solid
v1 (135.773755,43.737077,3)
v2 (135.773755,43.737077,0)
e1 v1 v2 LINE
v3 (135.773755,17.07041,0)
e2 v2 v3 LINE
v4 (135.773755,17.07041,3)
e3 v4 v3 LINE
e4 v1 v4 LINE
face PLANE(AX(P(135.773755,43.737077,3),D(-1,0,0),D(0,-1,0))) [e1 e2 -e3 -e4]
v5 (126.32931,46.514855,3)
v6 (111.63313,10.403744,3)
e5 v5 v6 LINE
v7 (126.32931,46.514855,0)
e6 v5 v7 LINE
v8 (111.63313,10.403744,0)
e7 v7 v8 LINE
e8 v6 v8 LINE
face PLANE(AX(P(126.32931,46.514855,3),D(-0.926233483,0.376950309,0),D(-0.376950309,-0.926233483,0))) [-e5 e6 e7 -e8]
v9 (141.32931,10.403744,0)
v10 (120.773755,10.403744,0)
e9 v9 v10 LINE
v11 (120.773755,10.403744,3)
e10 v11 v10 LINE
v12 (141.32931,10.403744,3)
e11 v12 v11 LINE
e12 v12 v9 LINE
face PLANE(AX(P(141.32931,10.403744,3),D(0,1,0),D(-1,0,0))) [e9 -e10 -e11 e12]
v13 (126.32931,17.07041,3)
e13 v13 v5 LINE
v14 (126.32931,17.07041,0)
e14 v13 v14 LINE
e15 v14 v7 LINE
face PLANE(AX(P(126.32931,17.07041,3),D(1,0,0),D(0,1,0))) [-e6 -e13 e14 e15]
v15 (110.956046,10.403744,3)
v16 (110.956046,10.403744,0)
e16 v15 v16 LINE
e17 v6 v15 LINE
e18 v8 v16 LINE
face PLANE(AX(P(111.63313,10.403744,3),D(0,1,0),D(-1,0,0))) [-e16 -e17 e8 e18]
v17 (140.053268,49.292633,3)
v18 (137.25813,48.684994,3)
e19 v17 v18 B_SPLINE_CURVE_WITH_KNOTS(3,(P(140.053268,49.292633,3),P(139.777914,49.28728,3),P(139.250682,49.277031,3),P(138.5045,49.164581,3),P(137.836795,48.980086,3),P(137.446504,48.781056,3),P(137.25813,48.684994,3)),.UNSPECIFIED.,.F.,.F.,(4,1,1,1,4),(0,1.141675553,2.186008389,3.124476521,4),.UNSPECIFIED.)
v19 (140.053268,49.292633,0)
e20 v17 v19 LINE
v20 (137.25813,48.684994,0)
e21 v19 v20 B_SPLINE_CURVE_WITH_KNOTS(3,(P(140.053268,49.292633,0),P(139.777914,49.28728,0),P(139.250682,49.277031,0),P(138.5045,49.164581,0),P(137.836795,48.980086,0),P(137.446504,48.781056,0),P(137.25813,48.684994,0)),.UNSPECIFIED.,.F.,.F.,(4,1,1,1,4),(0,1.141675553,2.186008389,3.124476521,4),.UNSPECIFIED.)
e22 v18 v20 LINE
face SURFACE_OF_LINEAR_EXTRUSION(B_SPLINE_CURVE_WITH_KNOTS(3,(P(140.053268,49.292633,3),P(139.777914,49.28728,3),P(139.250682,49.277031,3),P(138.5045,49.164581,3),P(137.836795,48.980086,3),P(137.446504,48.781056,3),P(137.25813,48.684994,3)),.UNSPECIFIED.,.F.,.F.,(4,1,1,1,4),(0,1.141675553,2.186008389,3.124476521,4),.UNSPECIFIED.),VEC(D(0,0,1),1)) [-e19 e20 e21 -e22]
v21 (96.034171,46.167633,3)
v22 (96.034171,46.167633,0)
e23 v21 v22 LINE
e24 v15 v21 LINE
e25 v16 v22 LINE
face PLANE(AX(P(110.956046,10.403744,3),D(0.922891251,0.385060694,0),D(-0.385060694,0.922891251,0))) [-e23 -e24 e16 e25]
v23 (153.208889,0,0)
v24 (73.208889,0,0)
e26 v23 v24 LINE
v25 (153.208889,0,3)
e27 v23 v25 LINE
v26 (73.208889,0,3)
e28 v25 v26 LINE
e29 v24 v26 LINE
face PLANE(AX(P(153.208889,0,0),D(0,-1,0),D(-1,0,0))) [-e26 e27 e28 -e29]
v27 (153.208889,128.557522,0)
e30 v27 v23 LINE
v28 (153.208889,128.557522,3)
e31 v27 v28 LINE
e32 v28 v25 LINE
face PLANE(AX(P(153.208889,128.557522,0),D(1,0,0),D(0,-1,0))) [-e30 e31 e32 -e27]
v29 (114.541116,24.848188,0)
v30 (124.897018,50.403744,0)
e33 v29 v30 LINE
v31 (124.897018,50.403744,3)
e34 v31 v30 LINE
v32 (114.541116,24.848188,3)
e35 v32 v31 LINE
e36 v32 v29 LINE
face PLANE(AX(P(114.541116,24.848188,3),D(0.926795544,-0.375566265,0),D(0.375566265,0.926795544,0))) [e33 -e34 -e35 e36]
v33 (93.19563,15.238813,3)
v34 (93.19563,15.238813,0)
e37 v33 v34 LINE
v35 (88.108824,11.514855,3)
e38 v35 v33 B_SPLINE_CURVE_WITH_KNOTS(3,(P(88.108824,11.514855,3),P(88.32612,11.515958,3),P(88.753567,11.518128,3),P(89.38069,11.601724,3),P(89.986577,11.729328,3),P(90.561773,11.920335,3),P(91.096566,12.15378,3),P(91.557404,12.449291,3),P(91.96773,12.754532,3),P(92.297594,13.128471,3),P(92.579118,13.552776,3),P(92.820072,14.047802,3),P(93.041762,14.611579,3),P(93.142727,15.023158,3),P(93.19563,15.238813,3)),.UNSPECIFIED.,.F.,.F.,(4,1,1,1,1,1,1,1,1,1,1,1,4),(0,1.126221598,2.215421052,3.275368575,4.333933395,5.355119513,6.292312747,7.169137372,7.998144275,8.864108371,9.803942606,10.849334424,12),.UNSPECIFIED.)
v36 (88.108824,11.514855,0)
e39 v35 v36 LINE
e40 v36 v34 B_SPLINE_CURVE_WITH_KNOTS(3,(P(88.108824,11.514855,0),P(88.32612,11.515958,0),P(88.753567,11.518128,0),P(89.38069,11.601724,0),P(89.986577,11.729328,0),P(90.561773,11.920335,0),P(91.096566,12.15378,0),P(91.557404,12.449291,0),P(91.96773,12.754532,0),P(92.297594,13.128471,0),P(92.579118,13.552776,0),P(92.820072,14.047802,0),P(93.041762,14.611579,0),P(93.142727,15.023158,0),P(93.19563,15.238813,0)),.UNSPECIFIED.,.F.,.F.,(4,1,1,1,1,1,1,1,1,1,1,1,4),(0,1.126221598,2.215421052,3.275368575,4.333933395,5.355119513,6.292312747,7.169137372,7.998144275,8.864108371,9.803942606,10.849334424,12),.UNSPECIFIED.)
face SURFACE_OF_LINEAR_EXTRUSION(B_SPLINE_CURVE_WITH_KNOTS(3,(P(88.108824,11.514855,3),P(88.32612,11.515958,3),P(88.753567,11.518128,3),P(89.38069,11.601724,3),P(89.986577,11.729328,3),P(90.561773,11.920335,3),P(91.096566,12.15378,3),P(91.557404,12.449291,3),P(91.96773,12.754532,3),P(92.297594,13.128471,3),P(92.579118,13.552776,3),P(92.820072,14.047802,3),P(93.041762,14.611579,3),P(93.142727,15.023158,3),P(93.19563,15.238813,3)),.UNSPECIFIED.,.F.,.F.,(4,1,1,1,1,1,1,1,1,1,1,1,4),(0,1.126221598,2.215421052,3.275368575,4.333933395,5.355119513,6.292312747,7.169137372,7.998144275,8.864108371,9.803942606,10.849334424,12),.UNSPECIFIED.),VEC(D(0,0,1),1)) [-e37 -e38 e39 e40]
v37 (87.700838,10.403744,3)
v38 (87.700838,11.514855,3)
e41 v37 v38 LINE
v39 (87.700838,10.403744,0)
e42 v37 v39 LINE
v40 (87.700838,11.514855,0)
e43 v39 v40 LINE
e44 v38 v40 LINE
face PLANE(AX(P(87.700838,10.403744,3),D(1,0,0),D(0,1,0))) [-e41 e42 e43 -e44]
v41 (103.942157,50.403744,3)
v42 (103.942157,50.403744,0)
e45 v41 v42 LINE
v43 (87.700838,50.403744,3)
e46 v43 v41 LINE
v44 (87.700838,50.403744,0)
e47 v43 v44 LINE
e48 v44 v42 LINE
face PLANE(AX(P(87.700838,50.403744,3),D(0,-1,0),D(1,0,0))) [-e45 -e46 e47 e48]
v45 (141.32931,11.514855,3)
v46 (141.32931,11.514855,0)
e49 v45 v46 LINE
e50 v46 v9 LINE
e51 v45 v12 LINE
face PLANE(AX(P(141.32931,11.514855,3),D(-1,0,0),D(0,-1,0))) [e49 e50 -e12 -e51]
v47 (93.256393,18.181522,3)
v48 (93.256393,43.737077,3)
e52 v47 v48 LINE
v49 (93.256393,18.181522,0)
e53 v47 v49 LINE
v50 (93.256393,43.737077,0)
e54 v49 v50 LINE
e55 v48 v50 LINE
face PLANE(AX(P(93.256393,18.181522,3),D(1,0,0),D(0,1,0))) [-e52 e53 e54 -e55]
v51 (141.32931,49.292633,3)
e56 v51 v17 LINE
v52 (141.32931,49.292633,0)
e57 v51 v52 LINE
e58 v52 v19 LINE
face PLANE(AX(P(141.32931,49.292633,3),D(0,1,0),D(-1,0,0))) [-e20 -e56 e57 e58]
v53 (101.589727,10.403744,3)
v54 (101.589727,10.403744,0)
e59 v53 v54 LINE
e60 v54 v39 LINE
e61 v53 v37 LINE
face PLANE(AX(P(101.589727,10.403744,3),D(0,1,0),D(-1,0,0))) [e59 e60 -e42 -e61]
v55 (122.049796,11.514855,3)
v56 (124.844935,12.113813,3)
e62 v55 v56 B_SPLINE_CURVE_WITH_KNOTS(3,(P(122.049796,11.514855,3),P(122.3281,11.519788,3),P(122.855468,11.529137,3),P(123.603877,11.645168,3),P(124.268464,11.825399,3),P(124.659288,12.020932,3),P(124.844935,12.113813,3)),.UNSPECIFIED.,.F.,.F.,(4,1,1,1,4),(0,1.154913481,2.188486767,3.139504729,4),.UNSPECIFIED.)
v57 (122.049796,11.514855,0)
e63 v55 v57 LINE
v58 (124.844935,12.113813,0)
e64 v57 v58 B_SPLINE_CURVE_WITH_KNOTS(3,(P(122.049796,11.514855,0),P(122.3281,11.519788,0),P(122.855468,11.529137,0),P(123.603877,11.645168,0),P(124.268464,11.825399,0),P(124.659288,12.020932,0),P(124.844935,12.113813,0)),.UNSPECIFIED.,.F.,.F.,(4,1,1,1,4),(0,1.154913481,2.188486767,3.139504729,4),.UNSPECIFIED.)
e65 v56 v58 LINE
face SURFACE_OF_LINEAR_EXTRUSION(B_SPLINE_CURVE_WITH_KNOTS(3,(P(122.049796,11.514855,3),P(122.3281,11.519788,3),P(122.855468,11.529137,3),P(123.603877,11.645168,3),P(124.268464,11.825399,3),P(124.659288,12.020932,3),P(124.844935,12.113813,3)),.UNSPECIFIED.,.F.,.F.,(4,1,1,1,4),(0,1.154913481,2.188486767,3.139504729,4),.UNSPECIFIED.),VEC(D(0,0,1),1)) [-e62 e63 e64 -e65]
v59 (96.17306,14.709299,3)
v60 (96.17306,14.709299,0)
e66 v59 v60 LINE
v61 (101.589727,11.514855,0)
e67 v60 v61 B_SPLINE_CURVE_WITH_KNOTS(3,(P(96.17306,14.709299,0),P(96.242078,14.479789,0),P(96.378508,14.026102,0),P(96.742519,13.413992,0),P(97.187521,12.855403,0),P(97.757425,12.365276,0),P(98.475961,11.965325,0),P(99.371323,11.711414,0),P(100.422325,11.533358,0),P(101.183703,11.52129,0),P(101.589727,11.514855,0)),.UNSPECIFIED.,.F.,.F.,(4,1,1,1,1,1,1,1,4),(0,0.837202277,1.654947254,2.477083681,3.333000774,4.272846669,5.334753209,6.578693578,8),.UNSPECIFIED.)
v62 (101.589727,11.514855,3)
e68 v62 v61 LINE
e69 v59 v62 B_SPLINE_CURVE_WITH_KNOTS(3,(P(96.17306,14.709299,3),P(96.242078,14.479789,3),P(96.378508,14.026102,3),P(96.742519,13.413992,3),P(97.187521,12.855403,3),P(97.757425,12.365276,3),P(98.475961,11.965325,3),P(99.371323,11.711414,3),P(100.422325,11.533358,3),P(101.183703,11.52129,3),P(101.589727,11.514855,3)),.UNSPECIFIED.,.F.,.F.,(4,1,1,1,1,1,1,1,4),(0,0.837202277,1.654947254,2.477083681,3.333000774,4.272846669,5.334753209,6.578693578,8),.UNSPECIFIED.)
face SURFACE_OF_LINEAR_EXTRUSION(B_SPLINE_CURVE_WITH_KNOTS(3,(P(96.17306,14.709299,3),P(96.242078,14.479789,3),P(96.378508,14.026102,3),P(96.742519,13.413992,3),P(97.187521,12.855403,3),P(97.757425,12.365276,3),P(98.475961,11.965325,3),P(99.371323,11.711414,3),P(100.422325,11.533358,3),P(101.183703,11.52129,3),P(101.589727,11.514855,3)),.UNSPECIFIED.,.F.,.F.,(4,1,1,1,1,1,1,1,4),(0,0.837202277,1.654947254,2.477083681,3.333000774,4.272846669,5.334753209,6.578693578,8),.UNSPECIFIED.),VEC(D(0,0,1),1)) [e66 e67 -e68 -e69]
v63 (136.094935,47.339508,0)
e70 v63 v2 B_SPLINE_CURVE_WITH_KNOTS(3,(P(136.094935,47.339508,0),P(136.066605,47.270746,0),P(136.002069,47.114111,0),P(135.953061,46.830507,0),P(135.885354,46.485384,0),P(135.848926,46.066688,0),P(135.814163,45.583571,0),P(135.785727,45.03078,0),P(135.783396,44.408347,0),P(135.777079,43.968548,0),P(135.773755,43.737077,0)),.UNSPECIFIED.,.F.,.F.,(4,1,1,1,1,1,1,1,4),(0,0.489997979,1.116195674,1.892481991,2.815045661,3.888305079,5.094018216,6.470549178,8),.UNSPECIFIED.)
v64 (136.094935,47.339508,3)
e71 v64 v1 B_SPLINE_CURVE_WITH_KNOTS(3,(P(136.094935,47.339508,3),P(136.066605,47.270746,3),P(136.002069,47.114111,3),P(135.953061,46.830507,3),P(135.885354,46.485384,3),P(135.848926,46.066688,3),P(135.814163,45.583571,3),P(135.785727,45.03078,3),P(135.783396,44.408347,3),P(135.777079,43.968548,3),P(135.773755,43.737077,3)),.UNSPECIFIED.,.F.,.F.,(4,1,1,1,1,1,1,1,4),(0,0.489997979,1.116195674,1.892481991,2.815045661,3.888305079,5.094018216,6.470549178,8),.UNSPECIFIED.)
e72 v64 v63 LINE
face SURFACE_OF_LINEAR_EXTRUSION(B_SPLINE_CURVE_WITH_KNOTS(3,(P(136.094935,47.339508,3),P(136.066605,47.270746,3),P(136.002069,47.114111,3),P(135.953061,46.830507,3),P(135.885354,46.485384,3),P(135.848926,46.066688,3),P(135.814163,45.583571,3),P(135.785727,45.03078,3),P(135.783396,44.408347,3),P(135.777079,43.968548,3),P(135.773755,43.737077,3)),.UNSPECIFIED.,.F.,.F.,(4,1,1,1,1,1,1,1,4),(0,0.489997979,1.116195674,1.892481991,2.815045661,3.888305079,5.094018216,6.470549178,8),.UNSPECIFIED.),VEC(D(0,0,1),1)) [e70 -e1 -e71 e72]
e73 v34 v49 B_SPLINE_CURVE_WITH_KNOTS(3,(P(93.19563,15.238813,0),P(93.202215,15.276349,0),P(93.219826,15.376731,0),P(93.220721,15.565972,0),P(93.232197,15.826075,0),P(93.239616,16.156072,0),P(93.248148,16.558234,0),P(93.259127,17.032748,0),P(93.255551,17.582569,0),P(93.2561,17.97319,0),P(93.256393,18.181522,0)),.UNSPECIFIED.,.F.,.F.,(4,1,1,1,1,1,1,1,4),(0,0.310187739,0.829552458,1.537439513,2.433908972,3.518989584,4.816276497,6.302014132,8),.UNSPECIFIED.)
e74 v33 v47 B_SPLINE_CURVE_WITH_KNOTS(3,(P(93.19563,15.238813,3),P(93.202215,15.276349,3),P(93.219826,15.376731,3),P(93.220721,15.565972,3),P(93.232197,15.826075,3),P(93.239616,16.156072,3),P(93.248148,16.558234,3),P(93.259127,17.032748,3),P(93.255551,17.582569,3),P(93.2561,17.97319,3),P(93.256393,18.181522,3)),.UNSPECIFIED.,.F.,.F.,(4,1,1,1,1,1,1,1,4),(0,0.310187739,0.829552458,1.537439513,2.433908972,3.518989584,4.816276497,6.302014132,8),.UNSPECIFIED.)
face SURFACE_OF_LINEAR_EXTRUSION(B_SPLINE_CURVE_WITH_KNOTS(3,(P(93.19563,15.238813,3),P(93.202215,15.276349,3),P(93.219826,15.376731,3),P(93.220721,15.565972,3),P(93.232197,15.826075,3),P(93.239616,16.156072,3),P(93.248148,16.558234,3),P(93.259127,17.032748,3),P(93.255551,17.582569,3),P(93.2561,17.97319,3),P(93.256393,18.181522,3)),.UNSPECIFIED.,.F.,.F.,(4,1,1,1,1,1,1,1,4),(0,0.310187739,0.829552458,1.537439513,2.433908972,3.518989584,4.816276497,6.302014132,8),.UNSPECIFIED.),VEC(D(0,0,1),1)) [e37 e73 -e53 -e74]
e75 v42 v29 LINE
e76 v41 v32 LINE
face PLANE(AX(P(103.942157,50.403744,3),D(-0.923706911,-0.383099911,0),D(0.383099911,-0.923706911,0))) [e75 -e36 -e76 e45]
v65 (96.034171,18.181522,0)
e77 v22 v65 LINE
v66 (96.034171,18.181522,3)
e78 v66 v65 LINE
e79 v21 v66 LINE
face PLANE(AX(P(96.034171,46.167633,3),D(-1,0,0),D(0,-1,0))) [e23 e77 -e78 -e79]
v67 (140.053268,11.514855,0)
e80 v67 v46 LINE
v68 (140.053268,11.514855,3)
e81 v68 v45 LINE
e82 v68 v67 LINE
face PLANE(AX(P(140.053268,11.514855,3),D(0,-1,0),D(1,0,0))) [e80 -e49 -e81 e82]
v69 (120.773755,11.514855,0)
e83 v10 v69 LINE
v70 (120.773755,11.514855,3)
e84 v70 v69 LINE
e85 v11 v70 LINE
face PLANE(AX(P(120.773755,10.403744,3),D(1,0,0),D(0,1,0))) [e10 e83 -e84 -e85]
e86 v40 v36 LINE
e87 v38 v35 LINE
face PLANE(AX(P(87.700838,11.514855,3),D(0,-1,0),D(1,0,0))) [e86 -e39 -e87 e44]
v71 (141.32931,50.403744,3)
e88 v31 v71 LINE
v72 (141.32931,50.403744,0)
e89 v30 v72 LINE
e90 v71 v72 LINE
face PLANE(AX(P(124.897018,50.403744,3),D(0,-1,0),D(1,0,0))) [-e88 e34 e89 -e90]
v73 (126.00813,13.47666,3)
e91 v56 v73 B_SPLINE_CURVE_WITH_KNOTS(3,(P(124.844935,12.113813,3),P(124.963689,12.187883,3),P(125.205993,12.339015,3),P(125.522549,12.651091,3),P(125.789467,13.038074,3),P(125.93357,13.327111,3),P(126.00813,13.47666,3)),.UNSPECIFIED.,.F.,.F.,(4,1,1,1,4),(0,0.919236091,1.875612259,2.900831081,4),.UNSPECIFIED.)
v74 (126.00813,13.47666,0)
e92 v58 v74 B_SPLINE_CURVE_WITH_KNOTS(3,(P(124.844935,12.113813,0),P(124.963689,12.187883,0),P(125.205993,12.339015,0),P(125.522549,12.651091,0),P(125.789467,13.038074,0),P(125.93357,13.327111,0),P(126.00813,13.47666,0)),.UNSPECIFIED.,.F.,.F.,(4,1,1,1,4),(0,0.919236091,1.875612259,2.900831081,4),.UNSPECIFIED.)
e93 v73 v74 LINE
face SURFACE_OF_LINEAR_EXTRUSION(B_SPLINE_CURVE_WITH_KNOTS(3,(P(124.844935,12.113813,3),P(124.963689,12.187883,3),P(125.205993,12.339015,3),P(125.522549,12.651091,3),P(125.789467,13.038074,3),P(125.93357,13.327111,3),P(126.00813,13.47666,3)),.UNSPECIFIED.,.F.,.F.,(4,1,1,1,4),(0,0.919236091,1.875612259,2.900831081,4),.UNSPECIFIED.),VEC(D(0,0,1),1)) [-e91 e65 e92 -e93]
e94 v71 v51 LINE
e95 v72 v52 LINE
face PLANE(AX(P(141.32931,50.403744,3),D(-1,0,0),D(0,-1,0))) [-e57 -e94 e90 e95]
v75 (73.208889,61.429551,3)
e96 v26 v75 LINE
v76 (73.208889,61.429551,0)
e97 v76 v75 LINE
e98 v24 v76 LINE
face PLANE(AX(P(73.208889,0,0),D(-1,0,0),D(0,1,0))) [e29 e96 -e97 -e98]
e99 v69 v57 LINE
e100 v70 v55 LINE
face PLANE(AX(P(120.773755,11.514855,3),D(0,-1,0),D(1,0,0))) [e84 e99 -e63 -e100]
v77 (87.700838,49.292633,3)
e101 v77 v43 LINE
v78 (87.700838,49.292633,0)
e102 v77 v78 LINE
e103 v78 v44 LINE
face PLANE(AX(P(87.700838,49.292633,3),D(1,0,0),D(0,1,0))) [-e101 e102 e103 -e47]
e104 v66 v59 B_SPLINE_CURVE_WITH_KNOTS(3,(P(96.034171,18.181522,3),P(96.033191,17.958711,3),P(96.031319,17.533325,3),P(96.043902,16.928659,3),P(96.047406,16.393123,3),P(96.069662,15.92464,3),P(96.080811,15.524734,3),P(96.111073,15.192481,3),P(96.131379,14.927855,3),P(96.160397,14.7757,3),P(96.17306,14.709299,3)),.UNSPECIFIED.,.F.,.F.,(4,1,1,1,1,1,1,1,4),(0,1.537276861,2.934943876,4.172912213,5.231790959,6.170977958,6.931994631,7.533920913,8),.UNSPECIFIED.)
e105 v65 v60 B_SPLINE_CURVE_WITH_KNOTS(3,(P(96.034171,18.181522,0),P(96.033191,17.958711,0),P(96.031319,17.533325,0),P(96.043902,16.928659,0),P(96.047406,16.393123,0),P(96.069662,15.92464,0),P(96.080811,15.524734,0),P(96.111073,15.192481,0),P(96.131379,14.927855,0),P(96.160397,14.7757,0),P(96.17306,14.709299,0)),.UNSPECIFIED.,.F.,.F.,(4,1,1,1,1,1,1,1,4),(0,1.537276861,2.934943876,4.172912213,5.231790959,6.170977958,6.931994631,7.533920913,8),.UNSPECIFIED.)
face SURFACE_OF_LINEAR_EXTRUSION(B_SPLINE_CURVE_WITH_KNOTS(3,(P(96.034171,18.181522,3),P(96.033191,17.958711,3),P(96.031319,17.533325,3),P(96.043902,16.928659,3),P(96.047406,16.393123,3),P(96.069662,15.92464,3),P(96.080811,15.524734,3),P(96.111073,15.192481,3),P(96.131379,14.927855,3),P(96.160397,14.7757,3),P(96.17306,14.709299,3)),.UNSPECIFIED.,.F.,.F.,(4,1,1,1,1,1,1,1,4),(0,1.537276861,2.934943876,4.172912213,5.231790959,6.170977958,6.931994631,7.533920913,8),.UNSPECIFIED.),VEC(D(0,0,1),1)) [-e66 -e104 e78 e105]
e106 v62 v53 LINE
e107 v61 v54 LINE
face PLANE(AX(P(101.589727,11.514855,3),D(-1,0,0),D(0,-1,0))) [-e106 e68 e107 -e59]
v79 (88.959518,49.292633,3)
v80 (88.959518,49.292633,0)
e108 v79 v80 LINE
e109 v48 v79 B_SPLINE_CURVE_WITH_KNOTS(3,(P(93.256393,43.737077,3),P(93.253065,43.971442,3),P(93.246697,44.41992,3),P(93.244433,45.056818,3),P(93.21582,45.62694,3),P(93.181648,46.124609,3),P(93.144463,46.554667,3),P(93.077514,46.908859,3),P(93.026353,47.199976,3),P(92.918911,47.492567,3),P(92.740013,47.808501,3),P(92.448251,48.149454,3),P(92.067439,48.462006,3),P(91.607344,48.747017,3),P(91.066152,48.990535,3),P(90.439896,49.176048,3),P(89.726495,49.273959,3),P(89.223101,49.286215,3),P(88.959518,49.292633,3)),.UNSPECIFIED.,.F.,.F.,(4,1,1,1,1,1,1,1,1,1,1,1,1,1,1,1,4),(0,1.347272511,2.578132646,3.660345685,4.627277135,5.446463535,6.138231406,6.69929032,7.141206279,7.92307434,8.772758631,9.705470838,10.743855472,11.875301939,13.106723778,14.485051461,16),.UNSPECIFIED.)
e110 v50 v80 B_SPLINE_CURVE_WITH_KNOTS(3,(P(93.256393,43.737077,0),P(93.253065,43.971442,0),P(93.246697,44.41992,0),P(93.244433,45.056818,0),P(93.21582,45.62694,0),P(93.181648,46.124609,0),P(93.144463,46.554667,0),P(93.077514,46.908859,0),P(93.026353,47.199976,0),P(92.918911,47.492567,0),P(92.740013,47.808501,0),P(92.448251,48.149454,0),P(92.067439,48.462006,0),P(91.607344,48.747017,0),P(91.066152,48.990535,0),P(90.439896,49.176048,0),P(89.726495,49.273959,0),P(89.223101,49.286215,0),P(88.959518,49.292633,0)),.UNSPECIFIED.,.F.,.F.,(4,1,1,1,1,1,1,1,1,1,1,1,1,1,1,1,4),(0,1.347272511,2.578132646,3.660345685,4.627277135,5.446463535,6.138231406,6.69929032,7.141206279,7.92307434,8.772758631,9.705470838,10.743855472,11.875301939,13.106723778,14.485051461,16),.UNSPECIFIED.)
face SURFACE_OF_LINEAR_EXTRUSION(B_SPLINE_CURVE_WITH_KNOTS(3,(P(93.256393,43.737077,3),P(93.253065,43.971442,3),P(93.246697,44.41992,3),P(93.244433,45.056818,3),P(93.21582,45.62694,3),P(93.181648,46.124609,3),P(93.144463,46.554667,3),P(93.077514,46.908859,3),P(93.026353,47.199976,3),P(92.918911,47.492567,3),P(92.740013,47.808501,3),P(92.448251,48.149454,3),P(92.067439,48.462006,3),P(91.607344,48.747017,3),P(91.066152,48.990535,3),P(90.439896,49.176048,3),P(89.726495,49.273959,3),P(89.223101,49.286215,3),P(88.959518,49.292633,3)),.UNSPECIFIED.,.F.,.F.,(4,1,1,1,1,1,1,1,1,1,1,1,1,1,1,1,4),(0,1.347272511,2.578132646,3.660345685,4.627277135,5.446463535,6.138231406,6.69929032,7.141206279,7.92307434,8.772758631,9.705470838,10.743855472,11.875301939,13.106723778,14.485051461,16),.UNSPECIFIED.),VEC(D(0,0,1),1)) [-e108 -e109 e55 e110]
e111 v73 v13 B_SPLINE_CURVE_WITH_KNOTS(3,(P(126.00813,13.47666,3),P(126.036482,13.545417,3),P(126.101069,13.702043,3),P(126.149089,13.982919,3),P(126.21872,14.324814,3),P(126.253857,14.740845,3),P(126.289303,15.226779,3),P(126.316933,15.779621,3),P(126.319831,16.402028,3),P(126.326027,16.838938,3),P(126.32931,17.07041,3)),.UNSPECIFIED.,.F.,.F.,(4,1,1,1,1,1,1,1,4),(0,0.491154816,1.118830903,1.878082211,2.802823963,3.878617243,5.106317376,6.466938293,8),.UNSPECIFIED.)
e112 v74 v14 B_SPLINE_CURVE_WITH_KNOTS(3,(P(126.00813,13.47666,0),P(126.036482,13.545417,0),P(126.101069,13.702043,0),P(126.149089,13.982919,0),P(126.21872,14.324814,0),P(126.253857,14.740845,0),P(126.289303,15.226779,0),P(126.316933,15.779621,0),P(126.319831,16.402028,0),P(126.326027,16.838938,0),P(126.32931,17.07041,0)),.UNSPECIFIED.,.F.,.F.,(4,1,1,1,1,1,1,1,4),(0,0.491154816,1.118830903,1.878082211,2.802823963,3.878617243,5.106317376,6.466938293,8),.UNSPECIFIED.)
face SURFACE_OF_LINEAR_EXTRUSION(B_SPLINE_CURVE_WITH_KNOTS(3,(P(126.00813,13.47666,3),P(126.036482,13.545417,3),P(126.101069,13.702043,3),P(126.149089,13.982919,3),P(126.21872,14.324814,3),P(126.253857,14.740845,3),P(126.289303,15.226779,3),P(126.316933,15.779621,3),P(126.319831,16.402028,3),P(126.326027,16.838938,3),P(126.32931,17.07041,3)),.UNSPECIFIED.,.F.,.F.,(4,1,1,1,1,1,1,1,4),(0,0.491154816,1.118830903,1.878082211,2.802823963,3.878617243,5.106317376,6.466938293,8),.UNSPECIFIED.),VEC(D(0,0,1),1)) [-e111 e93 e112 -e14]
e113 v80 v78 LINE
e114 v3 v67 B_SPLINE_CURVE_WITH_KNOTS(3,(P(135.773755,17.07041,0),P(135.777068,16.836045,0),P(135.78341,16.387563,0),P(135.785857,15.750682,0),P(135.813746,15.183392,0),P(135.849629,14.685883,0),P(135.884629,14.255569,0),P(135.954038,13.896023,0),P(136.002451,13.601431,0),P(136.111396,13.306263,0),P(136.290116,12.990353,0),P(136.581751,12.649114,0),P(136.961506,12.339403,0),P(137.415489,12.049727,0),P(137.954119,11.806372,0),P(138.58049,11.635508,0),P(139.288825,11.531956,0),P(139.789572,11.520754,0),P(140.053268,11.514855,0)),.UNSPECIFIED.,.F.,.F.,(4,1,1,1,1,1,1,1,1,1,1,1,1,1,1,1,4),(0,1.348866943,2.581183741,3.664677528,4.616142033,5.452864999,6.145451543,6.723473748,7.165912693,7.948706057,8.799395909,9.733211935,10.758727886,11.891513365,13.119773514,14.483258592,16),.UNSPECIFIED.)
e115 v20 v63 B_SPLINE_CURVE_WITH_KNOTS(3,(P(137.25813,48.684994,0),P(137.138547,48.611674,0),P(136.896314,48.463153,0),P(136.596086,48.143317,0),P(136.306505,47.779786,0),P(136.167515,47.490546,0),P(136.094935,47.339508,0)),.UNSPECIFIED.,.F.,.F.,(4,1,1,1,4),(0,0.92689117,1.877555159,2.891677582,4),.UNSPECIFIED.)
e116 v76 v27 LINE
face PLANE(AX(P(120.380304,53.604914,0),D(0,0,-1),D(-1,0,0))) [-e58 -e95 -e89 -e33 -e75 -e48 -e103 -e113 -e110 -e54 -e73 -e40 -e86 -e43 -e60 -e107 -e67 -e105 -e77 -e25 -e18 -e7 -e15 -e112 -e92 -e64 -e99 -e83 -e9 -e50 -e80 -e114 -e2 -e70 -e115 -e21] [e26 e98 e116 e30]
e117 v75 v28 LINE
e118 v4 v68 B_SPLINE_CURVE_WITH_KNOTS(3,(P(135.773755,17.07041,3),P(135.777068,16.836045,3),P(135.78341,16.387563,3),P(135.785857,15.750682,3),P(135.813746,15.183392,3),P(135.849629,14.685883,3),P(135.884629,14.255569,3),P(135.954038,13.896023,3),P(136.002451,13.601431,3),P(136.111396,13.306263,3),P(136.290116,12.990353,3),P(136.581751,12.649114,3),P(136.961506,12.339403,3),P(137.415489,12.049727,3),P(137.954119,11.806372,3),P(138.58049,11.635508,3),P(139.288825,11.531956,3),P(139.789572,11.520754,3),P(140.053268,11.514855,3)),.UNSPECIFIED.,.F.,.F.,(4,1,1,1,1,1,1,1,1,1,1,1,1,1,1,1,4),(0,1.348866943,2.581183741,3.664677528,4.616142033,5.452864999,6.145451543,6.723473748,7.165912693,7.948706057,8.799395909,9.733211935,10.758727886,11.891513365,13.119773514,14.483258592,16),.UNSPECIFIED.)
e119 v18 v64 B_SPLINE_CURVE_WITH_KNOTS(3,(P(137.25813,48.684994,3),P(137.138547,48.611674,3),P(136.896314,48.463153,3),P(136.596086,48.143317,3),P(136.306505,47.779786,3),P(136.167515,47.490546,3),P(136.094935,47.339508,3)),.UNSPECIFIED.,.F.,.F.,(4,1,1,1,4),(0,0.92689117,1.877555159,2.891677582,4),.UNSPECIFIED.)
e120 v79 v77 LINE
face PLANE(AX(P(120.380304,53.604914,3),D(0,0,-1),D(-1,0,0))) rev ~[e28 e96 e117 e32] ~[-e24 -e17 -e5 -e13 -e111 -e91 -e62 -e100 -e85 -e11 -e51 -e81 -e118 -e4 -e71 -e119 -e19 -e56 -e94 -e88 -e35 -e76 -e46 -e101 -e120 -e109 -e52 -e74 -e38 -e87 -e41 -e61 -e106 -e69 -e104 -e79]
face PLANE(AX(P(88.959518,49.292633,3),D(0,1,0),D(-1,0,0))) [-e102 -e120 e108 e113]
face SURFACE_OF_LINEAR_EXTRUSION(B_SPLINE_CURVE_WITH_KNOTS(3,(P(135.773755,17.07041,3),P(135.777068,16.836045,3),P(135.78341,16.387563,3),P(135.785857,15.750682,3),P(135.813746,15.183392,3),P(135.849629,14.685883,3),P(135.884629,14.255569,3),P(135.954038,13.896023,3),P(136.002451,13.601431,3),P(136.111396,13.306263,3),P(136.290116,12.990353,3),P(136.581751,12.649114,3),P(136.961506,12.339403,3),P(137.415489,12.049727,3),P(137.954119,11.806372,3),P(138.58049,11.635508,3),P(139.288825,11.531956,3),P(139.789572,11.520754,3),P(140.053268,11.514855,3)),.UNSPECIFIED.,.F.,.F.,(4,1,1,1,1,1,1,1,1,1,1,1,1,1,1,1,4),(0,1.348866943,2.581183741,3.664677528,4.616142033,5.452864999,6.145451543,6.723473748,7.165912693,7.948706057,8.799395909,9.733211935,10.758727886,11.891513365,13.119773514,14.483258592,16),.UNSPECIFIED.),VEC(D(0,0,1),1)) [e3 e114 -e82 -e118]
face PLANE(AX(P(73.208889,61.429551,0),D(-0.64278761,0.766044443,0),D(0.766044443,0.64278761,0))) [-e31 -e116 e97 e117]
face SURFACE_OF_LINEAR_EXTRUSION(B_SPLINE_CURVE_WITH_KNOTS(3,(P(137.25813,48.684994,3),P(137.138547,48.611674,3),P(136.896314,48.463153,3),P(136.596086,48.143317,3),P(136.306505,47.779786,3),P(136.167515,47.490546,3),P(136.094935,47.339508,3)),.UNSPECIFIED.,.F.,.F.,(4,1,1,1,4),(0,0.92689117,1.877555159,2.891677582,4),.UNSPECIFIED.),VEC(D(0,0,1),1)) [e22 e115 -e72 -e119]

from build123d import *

# Parameters (mm, degrees)
BOSS_EXTRUDE1_DEPTH = 3
CUT_EXTRUDE1_DEPTH  = 3


with BuildPart() as part:
    # Sketch1 → Boss-Extrude1 (new body)
    with BuildSketch(Plane.XY):
        Polygon((73.208888624, 61.429551443), (153.208888624, 128.557521937), (153.208888624, 0), (73.208888624, 0), align=None)
    extrude(amount=BOSS_EXTRUDE1_DEPTH)

    # Sketch2 → Cut-Extrude1 (cut)
    with BuildSketch(Plane.XY.offset(3)):
        with BuildLine():
            Line((114.541115695, 24.848188193), (124.897018473, 50.403743749))
            Line((124.897018473, 50.403743749), (141.32931014, 50.403743749))
            Line((141.32931014, 50.403743749), (141.32931014, 49.292632638))
            Line((141.32931014, 49.292632638), (140.053268473, 49.292632638))
            add(Edge.make_bspline(
                [(140.053268473, 49.292632638), (139.777913916, 49.287279798), (139.250682366, 49.277030519), (138.50450005, 49.164580552), (137.836795314, 48.980086144), (137.446503851, 48.781055794), (137.258129584, 48.684993749)],
                knots=[0, 0, 0, 0, 1.141675553, 2.186008389, 3.124476521, 4, 4, 4, 4], degree=3))
            add(Edge.make_bspline(
                [(137.258129584, 48.684993749), (137.138546651, 48.611673708), (136.896313732, 48.463153122), (136.596086342, 48.143316904), (136.306505192, 47.77978632), (136.167514751, 47.49054629), (136.09493514, 47.339507638)],
                knots=[0, 0, 0, 0, 0.92689117, 1.877555159, 2.891677582, 4, 4, 4, 4], degree=3))
            add(Edge.make_bspline(
                [(136.09493514, 47.339507638), (136.066604666, 47.270746405), (136.002068988, 47.114111084), (135.953061058, 46.830507124), (135.885354455, 46.485384284), (135.848925671, 46.066688386), (135.81416284, 45.583570509), (135.785726516, 45.030780096), (135.783396388, 44.408347319), (135.777079325, 43.968548261), (135.773754584, 43.737077082)],
                knots=[0, 0, 0, 0, 0.489997979, 1.116195674, 1.892481991, 2.815045661, 3.888305079, 5.094018216, 6.470549178, 8, 8, 8, 8], degree=3))
            Line((135.773754584, 43.737077082), (135.773754584, 17.070410415))
            add(Edge.make_bspline(
                [(135.773754584, 17.070410415), (135.777068496, 16.836044569), (135.783409978, 16.387563484), (135.785856575, 15.750682405), (135.813746186, 15.183392289), (135.849629159, 14.68588278), (135.884629459, 14.25556917), (135.954037997, 13.89602331), (136.002450601, 13.601431222), (136.111395778, 13.306263295), (136.290115509, 12.990352676), (136.581751189, 12.649113903), (136.961506114, 12.339403102), (137.415488976, 12.049727482), (137.954119231, 11.806372313), (138.580490143, 11.635507838), (139.288825096, 11.531956263), (139.789572455, 11.520754017), (140.053268473, 11.51485486)],
                knots=[0, 0, 0, 0, 1.348866943, 2.581183741, 3.664677528, 4.616142033, 5.452864999, 6.145451543, 6.723473748, 7.165912693, 7.948706057, 8.799395909, 9.733211935, 10.758727886, 11.891513365, 13.119773514, 14.483258592, 16, 16, 16, 16], degree=3))
            Line((140.053268473, 11.51485486), (141.32931014, 11.51485486))
            Line((141.32931014, 11.51485486), (141.32931014, 10.403743749))
            Line((141.32931014, 10.403743749), (120.773754584, 10.403743749))
            Line((120.773754584, 10.403743749), (120.773754584, 11.51485486))
            Line((120.773754584, 11.51485486), (122.049796251, 11.51485486))
            add(Edge.make_bspline(
                [(122.049796251, 11.51485486), (122.328100051, 11.519788417), (122.855467853, 11.52913719), (123.603877097, 11.645167884), (124.268464025, 11.825399233), (124.659288026, 12.020932183), (124.84493514, 12.113813193)],
                knots=[0, 0, 0, 0, 1.154913481, 2.188486767, 3.139504729, 4, 4, 4, 4], degree=3))
            add(Edge.make_bspline(
                [(124.84493514, 12.113813193), (124.963688543, 12.187882908), (125.205993367, 12.339014992), (125.522548533, 12.651091277), (125.789467027, 13.038073651), (125.933569987, 13.327111023), (126.008129584, 13.476660415)],
                knots=[0, 0, 0, 0, 0.919236091, 1.875612259, 2.900831081, 4, 4, 4, 4], degree=3))
            add(Edge.make_bspline(
                [(126.008129584, 13.476660415), (126.036482482, 13.545417481), (126.101069242, 13.70204331), (126.149089491, 13.982919397), (126.218719843, 14.324814277), (126.253857147, 14.740845033), (126.289303378, 15.226779271), (126.316933013, 15.779620532), (126.319830601, 16.402028189), (126.326027204, 16.838937549), (126.32931014, 17.070410415)],
                knots=[0, 0, 0, 0, 0.491154816, 1.118830903, 1.878082211, 2.802823963, 3.878617243, 5.106317376, 6.466938293, 8, 8, 8, 8], degree=3))
            Line((126.32931014, 17.070410415), (126.32931014, 46.51485486))
            Line((126.32931014, 46.51485486), (111.633129584, 10.403743749))
            Line((111.633129584, 10.403743749), (110.956046251, 10.403743749))
            Line((110.956046251, 10.403743749), (96.034171251, 46.167632638))
            Line((96.034171251, 46.167632638), (96.034171251, 18.181521526))
            add(Edge.make_bspline(
                [(96.034171251, 18.181521526), (96.033190657, 17.958710944), (96.031318524, 17.533324619), (96.043902342, 16.928659169), (96.047406401, 16.39312255), (96.069662028, 15.924639846), (96.080811254, 15.524733601), (96.111073311, 15.192481376), (96.131378595, 14.927855243), (96.160396628, 14.77570005), (96.17306014, 14.709299304)],
                knots=[0, 0, 0, 0, 1.537276861, 2.934943876, 4.172912213, 5.231790959, 6.170977958, 6.931994631, 7.533920913, 8, 8, 8, 8], degree=3))
            add(Edge.make_bspline(
                [(96.17306014, 14.709299304), (96.24207751, 14.479788853), (96.378508228, 14.02610197), (96.742519421, 13.413991548), (97.187520669, 12.855403415), (97.757425274, 12.365276459), (98.475961448, 11.965325093), (99.371323366, 11.71141388), (100.422324645, 11.533357851), (101.183703417, 11.521290215), (101.589726807, 11.51485486)],
                knots=[0, 0, 0, 0, 0.837202277, 1.654947254, 2.477083681, 3.333000774, 4.272846669, 5.334753209, 6.578693578, 8, 8, 8, 8], degree=3))
            Line((101.589726807, 11.51485486), (101.589726807, 10.403743749))
            Line((101.589726807, 10.403743749), (87.700837918, 10.403743749))
            Line((87.700837918, 10.403743749), (87.700837918, 11.51485486))
            Line((87.700837918, 11.51485486), (88.108824029, 11.51485486))
            add(Edge.make_bspline(
                [(88.108824029, 11.51485486), (88.326119555, 11.515958146), (88.753567478, 11.518128449), (89.380690167, 11.601723744), (89.986576932, 11.729328159), (90.561772547, 11.920334861), (91.096566285, 12.153779677), (91.557403695, 12.449291329), (91.967729934, 12.754532224), (92.297594099, 13.128470853), (92.579118316, 13.5527757), (92.820072335, 14.047801623), (93.041761578, 14.61157873), (93.142726903, 15.023158324), (93.195629584, 15.238813193)],
                knots=[0, 0, 0, 0, 1.126221598, 2.215421052, 3.275368575, 4.333933395, 5.355119513, 6.292312747, 7.169137372, 7.998144275, 8.864108371, 9.803942606, 10.849334424, 12, 12, 12, 12], degree=3))
            add(Edge.make_bspline(
                [(93.195629584, 15.238813193), (93.202214921, 15.276348515), (93.219826457, 15.376731332), (93.220721213, 15.565972366), (93.23219697, 15.826075335), (93.239616075, 16.156072479), (93.248148475, 16.55823406), (93.259127372, 17.03274832), (93.255551074, 17.582569372), (93.256100465, 17.973190342), (93.256393473, 18.181521526)],
                knots=[0, 0, 0, 0, 0.310187739, 0.829552458, 1.537439513, 2.433908972, 3.518989584, 4.816276497, 6.302014132, 8, 8, 8, 8], degree=3))
            Line((93.256393473, 18.181521526), (93.256393473, 43.737077082))
            add(Edge.make_bspline(
                [(93.256393473, 43.737077082), (93.253065361, 43.971441664), (93.246696704, 44.419920331), (93.244433013, 45.05681769), (93.215819555, 45.626940178), (93.181647654, 46.124609011), (93.144463395, 46.554666597), (93.077514309, 46.908858762), (93.026352876, 47.199976304), (92.918911223, 47.492567379), (92.740012849, 47.808500991), (92.448251073, 48.149453568), (92.067439137, 48.462006467), (91.607344322, 48.747016559), (91.066151715, 48.990534713), (90.439896314, 49.17604788), (89.726495128, 49.273958557), (89.223100805, 49.286215027), (88.959518473, 49.292632638)],
                knots=[0, 0, 0, 0, 1.347272511, 2.578132646, 3.660345685, 4.627277135, 5.446463535, 6.138231406, 6.69929032, 7.141206279, 7.92307434, 8.772758631, 9.705470838, 10.743855472, 11.875301939, 13.106723778, 14.485051461, 16, 16, 16, 16], degree=3))
            Line((88.959518473, 49.292632638), (87.700837918, 49.292632638))
            Line((87.700837918, 49.292632638), (87.700837918, 50.403743749))
            Line((87.700837918, 50.403743749), (103.942157362, 50.403743749))
            Line((103.942157362, 50.403743749), (114.541115695, 24.848188193))
        make_face()
    extrude(amount=-CUT_EXTRUDE1_DEPTH, mode=Mode.SUBTRACT)


solid = part.part
